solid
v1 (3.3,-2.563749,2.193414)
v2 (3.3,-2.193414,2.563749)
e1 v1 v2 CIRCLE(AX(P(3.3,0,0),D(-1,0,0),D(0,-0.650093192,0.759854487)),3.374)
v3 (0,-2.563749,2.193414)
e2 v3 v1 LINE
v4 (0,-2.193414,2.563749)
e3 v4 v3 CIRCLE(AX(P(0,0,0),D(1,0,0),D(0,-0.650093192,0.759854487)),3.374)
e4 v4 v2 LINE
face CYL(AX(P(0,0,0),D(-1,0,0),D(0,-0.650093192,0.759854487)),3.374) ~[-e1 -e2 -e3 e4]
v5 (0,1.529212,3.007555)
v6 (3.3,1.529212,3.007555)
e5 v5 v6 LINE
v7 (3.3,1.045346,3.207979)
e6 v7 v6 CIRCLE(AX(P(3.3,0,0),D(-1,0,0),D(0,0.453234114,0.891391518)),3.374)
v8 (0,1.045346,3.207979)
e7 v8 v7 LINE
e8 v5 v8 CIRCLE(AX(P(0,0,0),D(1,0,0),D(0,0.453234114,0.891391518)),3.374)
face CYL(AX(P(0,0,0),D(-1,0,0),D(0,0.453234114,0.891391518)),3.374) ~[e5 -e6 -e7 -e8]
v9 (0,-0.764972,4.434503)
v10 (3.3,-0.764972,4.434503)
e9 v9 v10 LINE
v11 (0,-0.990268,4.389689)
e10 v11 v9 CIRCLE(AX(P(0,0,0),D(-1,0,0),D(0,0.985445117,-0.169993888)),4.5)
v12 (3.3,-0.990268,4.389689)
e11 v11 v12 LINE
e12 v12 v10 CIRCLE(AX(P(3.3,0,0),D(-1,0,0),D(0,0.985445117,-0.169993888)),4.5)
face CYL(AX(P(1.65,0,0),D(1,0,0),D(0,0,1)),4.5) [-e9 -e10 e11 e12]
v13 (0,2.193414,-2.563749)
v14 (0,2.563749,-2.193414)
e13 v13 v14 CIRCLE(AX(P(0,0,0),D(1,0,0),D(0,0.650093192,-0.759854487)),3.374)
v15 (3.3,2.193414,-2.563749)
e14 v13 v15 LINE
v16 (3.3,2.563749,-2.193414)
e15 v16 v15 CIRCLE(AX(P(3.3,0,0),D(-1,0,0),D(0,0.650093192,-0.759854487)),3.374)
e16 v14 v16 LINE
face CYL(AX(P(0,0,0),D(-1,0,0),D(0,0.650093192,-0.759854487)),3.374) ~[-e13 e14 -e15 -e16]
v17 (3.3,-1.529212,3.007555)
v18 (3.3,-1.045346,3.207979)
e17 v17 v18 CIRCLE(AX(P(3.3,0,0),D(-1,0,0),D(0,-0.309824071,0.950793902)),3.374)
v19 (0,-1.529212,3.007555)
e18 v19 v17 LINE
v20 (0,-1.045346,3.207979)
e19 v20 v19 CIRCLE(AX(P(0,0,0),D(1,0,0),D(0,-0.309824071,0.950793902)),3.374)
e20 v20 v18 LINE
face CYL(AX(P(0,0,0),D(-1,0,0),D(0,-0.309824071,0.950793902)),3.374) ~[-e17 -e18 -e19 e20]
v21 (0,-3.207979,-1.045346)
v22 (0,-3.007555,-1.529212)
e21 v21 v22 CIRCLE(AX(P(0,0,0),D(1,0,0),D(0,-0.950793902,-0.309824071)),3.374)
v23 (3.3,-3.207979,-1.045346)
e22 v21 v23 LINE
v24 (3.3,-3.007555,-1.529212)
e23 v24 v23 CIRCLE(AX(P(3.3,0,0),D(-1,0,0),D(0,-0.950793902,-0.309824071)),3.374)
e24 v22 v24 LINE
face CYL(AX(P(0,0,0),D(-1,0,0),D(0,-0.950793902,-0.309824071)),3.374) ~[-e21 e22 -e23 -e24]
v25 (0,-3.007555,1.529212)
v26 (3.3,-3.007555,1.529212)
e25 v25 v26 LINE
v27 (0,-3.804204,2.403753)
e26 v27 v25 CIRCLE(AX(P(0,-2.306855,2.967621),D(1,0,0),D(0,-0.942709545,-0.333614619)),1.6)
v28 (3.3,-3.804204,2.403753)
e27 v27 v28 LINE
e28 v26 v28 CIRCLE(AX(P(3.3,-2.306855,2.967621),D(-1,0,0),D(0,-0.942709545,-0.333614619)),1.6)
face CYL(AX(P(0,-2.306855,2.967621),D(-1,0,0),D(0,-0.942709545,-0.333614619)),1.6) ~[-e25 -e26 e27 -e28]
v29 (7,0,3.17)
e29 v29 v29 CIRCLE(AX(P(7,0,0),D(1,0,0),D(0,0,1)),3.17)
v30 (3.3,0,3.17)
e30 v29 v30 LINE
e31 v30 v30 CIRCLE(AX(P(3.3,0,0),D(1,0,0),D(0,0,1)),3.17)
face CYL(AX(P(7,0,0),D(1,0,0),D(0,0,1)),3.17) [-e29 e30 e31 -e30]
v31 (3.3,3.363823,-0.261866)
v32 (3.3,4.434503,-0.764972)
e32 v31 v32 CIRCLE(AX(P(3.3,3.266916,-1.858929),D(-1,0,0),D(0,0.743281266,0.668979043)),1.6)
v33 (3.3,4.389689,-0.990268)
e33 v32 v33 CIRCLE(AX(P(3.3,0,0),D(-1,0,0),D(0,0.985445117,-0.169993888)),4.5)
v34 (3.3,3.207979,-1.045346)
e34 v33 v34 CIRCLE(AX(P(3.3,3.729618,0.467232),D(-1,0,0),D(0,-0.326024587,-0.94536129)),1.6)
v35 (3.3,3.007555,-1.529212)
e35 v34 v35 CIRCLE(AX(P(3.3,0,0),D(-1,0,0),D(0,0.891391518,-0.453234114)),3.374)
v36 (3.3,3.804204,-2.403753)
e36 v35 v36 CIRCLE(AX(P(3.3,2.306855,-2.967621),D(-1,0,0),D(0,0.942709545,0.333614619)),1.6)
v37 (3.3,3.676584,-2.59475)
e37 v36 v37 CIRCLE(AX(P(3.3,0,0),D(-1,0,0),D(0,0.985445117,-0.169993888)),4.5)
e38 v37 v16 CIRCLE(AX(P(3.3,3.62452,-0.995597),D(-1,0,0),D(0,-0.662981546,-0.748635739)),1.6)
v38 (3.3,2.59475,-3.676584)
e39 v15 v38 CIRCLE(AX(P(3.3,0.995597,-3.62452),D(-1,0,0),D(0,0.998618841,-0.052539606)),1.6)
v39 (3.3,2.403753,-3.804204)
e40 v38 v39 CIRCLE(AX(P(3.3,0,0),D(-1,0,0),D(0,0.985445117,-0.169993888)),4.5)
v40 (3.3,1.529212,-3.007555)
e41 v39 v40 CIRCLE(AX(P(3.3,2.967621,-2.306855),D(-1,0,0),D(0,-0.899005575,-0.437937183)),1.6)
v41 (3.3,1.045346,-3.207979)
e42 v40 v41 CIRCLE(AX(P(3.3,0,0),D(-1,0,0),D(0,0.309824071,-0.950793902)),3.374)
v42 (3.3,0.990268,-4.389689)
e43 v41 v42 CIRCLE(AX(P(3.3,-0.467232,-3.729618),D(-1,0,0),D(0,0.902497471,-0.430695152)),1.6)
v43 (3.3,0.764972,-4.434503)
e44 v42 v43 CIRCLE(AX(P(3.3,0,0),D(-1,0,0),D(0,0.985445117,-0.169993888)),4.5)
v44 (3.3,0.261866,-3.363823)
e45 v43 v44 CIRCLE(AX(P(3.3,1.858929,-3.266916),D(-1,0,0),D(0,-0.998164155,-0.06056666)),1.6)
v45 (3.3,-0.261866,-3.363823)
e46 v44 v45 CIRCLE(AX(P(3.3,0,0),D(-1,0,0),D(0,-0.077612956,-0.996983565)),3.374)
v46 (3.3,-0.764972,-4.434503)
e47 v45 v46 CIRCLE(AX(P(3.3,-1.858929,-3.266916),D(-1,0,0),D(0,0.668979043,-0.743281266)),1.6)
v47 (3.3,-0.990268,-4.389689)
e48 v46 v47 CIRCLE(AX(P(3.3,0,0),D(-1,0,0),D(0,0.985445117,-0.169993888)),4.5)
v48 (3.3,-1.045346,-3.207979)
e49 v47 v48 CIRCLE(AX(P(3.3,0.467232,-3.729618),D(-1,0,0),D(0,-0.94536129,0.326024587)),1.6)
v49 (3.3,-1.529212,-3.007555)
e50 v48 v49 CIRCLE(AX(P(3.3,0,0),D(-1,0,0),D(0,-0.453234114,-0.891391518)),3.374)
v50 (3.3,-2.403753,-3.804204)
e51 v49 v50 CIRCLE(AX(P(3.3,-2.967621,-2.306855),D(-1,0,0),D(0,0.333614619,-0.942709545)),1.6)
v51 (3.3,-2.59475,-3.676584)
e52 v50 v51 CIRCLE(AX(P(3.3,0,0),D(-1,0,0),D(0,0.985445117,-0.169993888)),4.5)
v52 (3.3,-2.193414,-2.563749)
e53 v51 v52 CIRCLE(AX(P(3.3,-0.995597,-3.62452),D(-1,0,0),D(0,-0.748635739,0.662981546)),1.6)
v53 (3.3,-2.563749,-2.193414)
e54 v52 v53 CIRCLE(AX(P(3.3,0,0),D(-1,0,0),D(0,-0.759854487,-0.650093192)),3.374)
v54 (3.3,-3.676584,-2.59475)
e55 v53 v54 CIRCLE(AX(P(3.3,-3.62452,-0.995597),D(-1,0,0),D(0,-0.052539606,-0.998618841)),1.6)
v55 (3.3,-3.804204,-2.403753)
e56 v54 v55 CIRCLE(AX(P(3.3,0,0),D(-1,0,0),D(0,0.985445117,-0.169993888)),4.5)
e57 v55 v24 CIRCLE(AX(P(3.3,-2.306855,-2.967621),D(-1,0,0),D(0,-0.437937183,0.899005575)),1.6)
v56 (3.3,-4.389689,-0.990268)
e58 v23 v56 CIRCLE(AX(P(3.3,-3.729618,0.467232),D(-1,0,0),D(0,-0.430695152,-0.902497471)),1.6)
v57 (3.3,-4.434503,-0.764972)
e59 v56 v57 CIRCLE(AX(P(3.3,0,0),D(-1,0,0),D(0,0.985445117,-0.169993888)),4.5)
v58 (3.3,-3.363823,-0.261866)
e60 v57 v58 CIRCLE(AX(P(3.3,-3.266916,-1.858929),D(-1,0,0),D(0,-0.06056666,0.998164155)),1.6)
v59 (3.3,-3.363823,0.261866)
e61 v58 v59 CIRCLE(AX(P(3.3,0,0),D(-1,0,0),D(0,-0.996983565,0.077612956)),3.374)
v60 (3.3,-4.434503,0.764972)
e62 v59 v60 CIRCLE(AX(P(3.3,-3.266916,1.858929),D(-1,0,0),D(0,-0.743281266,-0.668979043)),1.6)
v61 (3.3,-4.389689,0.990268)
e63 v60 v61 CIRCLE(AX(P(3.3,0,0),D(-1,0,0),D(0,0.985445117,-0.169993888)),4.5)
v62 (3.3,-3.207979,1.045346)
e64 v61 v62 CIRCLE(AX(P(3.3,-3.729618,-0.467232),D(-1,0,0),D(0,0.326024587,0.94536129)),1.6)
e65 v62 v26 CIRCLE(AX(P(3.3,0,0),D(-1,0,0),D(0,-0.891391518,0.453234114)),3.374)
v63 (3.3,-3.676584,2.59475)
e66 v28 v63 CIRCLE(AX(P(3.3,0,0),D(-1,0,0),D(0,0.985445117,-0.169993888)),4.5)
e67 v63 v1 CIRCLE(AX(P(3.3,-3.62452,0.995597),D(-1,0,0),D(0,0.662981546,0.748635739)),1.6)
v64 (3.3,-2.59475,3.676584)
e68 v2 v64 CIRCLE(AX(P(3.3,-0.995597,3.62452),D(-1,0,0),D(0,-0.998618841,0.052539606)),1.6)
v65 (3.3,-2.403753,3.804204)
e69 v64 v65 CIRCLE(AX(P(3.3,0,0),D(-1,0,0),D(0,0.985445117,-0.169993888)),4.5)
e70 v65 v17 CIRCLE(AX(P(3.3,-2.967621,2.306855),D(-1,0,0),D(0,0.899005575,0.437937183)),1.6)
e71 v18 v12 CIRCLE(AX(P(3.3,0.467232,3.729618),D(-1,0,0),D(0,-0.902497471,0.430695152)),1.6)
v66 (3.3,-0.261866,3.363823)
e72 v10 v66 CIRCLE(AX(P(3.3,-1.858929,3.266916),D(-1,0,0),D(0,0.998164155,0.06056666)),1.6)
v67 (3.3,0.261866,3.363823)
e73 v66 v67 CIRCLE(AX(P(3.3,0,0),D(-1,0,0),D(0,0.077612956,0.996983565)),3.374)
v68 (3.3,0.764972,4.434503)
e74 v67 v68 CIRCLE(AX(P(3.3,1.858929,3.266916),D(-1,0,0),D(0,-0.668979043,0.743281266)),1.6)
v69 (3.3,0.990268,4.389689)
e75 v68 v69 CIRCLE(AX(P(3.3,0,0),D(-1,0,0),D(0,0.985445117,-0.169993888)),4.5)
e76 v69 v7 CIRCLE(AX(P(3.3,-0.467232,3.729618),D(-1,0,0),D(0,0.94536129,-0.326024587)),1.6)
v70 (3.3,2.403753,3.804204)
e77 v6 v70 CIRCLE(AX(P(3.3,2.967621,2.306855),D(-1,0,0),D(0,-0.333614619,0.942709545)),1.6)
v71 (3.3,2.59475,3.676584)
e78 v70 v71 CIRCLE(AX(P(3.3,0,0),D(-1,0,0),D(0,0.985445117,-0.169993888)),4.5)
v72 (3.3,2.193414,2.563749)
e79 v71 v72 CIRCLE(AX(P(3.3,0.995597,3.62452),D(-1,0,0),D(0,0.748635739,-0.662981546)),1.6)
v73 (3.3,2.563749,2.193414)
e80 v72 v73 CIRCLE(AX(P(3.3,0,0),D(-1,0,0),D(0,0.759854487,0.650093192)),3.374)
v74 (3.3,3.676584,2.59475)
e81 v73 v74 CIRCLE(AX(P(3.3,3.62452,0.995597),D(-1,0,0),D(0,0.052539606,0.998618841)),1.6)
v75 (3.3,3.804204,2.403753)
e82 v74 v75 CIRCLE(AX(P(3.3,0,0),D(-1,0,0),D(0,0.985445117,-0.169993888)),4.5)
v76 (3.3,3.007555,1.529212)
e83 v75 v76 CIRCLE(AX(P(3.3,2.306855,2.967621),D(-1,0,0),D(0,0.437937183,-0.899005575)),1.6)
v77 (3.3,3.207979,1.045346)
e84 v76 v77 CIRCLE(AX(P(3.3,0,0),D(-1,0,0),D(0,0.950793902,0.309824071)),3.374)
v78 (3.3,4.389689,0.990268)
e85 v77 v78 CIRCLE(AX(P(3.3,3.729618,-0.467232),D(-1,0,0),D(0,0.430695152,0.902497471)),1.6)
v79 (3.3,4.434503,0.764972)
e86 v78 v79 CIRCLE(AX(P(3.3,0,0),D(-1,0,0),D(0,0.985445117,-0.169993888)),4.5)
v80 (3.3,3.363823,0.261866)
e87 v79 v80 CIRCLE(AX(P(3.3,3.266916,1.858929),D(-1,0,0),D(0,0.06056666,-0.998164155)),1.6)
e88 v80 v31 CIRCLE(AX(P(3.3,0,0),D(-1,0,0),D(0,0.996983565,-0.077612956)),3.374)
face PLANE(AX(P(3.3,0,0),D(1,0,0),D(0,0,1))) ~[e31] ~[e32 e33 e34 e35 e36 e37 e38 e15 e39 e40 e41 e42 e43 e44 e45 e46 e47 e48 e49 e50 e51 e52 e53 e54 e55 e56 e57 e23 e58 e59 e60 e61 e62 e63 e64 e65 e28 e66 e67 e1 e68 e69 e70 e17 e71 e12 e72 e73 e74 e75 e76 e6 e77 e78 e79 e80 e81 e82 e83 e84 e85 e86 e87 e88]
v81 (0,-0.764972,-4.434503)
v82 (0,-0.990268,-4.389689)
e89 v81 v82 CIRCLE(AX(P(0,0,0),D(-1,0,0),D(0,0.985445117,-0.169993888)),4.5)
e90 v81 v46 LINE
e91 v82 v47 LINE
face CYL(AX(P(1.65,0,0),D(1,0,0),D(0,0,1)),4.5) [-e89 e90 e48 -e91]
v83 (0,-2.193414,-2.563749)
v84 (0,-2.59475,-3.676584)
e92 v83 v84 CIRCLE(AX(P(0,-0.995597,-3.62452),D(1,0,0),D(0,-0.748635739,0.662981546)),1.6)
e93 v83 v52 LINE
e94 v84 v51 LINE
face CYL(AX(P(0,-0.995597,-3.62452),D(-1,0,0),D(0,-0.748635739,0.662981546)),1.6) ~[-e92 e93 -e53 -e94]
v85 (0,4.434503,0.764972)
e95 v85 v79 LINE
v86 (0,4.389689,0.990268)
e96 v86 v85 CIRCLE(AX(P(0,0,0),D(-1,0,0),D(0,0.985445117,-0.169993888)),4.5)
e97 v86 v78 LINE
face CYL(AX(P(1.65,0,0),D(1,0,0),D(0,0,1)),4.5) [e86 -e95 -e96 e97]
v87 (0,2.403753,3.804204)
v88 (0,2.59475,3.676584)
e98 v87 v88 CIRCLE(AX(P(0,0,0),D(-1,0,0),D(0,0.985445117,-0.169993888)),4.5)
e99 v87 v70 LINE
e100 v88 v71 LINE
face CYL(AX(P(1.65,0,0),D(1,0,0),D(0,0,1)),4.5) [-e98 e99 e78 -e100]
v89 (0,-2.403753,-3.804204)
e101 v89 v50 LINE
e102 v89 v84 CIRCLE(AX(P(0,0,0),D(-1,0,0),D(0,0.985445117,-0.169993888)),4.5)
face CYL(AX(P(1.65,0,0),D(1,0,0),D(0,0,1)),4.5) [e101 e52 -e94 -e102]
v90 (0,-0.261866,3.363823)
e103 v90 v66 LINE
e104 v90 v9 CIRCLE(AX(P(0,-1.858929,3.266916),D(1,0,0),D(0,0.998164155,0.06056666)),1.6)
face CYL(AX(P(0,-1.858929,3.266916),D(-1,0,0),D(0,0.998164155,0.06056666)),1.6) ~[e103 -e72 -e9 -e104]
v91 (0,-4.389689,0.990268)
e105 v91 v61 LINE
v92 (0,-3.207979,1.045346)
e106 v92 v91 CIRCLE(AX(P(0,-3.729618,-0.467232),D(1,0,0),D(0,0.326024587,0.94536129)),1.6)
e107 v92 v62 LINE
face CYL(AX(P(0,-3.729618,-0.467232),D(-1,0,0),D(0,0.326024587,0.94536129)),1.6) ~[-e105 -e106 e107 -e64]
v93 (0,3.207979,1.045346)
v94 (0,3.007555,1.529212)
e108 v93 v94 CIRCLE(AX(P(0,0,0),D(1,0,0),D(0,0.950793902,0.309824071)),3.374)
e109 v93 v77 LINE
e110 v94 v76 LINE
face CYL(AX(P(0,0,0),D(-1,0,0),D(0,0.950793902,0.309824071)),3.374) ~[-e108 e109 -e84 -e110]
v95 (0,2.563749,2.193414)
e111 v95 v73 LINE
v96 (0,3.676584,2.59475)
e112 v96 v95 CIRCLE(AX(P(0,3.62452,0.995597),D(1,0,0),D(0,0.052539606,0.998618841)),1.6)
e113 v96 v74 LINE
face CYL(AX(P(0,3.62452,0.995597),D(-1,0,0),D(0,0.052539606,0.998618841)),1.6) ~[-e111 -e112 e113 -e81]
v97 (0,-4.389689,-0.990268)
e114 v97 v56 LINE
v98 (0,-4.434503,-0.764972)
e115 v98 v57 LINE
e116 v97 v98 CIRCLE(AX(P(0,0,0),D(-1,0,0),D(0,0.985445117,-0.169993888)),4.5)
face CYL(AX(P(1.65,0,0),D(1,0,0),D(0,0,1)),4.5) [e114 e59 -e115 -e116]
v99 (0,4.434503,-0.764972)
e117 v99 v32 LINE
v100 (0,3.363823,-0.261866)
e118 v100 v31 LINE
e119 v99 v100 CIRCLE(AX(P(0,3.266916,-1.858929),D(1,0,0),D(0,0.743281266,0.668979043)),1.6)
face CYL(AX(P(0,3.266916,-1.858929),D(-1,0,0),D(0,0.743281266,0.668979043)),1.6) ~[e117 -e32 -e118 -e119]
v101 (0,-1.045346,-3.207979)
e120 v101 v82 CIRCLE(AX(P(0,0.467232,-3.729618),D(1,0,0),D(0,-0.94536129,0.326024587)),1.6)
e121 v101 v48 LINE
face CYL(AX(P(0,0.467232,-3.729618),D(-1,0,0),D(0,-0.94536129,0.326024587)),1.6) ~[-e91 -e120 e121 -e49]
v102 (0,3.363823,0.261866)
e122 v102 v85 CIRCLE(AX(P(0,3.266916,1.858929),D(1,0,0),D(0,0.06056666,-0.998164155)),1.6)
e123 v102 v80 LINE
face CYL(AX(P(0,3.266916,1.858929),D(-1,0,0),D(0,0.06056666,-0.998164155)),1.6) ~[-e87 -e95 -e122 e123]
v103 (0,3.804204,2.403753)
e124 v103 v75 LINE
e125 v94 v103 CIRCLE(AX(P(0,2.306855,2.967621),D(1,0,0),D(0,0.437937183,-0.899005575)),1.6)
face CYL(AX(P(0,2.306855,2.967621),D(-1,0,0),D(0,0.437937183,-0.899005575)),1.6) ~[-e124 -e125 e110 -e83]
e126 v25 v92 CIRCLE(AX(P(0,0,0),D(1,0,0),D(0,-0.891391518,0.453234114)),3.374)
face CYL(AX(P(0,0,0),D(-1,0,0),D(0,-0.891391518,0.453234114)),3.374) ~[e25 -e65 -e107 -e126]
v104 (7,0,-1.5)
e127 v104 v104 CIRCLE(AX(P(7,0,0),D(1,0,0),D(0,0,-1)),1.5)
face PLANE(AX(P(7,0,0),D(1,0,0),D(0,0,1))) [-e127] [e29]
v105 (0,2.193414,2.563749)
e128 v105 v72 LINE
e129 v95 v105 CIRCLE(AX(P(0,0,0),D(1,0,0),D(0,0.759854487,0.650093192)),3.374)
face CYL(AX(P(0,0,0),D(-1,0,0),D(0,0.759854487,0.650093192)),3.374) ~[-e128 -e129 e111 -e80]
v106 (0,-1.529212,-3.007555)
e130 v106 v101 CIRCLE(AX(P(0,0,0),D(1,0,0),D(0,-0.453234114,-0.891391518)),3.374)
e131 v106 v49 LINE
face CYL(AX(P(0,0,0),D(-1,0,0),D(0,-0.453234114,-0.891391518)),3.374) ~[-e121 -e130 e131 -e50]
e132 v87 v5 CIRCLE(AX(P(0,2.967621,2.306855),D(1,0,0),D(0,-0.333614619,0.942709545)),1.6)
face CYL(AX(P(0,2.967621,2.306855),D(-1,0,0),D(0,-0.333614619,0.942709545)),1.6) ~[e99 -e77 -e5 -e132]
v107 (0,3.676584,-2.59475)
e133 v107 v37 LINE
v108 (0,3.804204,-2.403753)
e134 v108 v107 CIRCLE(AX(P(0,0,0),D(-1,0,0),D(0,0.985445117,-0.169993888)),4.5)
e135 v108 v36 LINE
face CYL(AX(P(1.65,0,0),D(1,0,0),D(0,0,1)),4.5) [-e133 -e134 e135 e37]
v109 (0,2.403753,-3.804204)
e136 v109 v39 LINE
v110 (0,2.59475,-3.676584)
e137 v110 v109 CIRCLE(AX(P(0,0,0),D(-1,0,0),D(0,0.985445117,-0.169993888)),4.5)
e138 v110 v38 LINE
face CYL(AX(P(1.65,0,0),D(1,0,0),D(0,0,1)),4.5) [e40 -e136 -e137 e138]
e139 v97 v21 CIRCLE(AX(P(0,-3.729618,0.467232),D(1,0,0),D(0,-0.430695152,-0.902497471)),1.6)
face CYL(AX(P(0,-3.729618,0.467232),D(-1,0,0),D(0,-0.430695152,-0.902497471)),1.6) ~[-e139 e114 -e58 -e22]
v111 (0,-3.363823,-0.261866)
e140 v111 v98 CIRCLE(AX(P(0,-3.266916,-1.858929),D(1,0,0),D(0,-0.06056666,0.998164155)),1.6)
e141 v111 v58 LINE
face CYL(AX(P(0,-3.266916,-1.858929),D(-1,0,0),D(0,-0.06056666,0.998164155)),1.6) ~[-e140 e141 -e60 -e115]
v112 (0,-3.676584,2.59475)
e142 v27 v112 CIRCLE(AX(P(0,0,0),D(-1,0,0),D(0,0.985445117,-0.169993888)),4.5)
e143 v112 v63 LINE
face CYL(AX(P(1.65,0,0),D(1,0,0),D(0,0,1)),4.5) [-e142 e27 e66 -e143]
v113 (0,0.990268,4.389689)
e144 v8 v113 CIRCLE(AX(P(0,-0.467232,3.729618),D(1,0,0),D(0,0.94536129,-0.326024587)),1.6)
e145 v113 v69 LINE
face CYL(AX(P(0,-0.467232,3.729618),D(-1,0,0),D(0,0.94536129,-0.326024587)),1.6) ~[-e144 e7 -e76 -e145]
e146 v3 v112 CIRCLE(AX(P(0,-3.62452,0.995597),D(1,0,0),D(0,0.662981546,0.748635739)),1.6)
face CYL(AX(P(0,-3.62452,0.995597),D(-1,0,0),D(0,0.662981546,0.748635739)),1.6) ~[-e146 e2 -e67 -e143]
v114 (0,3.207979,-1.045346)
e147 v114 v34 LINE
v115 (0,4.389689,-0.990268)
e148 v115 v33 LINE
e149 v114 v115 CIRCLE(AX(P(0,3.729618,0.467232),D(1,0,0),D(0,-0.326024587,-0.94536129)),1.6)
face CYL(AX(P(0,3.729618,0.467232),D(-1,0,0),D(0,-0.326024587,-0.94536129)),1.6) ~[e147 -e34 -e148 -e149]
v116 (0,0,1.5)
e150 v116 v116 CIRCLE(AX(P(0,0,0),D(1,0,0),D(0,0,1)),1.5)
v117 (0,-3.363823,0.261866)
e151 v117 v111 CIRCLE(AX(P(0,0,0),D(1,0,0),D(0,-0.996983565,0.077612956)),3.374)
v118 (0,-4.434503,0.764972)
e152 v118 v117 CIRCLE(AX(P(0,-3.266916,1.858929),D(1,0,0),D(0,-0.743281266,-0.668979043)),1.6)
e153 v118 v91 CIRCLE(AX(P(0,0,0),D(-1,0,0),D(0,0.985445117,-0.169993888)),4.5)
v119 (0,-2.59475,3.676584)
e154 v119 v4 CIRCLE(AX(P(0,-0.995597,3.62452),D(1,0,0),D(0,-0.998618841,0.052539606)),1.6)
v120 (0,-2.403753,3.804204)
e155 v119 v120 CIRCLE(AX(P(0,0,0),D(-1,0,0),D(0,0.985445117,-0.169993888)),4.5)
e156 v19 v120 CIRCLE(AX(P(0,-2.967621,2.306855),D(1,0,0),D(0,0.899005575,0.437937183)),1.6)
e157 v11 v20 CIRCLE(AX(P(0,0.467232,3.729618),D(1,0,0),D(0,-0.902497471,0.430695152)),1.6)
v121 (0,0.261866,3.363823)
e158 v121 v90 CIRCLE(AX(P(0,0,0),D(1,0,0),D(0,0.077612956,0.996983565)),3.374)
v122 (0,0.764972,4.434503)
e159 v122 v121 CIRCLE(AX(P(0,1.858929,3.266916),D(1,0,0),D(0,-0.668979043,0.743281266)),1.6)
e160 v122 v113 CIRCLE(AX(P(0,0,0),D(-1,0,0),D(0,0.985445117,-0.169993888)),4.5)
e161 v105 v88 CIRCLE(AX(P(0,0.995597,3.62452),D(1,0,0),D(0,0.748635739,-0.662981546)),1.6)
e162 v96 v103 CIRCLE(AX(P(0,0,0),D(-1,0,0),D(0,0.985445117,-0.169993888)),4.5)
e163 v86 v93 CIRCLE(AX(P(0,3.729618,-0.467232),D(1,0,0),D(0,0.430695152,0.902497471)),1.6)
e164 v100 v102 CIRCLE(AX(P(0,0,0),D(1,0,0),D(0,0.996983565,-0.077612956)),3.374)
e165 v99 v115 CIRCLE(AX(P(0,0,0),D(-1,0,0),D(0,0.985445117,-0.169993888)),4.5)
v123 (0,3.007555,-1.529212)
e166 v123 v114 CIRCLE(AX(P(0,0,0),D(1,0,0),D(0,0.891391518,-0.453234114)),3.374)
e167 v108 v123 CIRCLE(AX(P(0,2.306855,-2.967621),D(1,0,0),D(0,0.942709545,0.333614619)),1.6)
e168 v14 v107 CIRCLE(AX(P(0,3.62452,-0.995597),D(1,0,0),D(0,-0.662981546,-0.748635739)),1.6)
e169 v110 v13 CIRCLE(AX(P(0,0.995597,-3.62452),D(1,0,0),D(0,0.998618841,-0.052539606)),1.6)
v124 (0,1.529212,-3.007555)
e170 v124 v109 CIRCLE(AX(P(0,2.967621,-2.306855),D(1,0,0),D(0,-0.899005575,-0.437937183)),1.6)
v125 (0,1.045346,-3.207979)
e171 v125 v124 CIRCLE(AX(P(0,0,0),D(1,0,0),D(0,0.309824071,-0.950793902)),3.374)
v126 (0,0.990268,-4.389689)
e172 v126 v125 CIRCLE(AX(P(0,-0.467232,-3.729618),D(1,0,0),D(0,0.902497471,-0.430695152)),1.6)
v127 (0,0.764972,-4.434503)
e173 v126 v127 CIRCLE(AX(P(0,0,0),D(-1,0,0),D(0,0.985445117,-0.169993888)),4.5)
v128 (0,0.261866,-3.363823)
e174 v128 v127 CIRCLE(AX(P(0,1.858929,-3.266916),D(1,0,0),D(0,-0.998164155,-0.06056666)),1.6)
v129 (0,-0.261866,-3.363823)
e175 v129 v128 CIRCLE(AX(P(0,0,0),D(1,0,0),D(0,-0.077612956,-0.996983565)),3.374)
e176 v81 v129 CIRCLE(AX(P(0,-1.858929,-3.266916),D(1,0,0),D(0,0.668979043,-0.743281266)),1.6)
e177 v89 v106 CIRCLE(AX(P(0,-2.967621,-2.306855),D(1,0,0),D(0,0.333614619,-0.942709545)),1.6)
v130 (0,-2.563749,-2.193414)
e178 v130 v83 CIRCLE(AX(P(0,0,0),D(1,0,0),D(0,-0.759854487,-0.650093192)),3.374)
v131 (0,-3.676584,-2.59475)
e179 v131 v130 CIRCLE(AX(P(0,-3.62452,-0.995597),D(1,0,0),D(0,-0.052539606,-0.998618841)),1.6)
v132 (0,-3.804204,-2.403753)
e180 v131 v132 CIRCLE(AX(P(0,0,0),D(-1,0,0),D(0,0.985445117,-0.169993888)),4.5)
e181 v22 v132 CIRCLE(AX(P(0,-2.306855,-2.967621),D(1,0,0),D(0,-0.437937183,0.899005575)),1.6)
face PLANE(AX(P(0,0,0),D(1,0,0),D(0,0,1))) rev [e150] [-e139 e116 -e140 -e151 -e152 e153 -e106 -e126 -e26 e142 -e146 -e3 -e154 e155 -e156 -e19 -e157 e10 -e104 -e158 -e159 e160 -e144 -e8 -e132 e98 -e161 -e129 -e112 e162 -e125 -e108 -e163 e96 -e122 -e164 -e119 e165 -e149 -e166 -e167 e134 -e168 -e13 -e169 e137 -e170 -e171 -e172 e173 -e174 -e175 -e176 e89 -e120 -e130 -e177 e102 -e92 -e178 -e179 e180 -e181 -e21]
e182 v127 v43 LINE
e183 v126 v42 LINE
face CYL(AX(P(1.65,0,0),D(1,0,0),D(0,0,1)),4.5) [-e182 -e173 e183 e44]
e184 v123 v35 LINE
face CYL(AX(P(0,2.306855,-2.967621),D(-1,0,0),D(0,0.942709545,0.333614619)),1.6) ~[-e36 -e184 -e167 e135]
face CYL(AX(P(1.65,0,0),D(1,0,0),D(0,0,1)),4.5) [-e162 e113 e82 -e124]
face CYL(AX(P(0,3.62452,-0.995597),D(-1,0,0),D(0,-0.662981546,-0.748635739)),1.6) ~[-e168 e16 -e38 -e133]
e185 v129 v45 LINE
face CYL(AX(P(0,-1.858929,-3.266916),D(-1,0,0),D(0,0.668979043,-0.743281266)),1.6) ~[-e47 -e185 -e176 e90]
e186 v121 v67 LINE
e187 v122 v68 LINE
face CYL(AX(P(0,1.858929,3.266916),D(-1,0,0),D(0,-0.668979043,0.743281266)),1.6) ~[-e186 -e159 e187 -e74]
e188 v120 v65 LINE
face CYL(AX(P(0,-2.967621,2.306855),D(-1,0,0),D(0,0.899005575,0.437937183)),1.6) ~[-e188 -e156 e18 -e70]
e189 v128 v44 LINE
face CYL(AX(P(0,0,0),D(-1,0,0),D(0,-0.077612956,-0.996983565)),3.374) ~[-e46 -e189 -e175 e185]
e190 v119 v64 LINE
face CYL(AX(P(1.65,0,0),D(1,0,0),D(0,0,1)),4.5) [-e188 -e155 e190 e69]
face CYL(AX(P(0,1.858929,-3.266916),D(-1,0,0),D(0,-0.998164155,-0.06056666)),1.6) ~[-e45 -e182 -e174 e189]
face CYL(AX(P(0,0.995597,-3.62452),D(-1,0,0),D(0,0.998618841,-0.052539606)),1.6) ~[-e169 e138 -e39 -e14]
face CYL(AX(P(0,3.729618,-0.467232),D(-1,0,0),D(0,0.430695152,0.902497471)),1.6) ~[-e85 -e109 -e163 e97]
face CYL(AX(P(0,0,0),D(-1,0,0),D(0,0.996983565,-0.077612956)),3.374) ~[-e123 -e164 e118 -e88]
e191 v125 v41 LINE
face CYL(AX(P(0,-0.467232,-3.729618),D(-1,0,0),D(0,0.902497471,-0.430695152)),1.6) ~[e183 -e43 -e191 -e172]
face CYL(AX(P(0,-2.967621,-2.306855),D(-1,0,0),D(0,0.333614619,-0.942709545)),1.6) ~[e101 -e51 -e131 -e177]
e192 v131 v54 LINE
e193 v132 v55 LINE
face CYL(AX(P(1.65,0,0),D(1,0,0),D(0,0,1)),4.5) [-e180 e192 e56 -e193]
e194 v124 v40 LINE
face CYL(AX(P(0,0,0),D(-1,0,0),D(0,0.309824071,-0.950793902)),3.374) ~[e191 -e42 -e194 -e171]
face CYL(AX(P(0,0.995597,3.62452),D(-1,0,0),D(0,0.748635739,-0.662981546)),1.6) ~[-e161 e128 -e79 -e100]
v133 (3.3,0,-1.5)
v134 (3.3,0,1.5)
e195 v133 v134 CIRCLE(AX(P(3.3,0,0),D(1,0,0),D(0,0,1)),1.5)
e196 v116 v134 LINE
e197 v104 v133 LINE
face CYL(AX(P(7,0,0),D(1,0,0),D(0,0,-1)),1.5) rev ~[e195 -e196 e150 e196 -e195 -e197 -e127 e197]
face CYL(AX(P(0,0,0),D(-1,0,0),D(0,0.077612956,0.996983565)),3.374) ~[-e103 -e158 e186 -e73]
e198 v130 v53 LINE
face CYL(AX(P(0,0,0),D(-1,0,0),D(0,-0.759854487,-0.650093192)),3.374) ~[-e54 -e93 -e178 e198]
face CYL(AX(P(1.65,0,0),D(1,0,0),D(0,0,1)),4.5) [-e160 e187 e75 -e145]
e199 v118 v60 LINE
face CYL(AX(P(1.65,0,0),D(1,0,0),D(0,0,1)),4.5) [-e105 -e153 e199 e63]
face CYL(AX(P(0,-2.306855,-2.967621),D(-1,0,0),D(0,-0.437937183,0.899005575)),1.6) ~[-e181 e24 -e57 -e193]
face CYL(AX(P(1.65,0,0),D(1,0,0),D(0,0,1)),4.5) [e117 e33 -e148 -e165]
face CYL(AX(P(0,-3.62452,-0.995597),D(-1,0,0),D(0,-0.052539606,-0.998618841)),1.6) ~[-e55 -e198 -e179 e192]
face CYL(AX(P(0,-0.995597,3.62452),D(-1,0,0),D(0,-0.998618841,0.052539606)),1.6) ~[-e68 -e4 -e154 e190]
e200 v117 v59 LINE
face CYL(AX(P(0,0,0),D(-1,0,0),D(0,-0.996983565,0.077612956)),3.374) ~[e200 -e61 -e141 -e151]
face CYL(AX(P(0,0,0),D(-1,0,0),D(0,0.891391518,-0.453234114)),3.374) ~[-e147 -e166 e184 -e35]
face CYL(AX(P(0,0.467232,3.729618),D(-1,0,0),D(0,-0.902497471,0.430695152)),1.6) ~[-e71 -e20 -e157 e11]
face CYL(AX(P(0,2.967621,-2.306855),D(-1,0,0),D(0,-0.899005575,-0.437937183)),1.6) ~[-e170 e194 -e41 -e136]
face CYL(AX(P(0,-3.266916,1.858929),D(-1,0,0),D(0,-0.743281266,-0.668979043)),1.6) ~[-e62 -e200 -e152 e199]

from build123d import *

# Parameters (mm, degrees)
BASPROSKE_W        = 3.3
BASPROSKE_H        = 4.5
TOOTHCUT_DEPTH     = 8.168681887
TEETHCUTS_COUNT    = 16
TEETHCUTS_ANGLE    = 337.5
BORSKE_R           = 1.5
BORE_DEPTH         = 50.0000508
BOSS_EXTRU_1_START = 3.7
ESQUISSE1_R        = 3.17
ESQUISSE1_R_2      = 1.5
BOSS_EXTRU_1_DEPTH = 3.7


with BuildPart() as part:
    # BasProSke → Base-Revolve (revolve)
    with BuildSketch(Plane(origin=(0, 0, 0), x_dir=(1, 0, 0), z_dir=(0, 1, 0)), mode=Mode.PRIVATE) as base_revolve_sk:
        with Locations((1.65, 2.25)):
            Rectangle(BASPROSKE_W, BASPROSKE_H)
    revolve(base_revolve_sk.sketch.rotate(Axis((-10, 0, 0), (1, 0, 0)), 180), axis=Axis((-10, 0, 0), (1, 0, 0)))

    # TooCutSke → ToothCut (cut, through all)
    with BuildSketch(Plane(origin=(0, 0, 0), x_dir=(0, 0, -1), z_dir=(1, 0, 0))):
        with BuildLine():
            ThreePointArc((0.261866103, 3.363822549), (0, 3.374), (-0.261866103, 3.363822549))
            ThreePointArc((-0.261866103, 3.363822549), (-0.417714668, 3.961827375), (-0.788562282, 4.456165918))
            ThreePointArc((-0.788562282, 4.456165918), (0, 4.5254), (0.788562282, 4.456165918))
            ThreePointArc((0.788562282, 4.456165918), (0.417714668, 3.961827375), (0.261866103, 3.363822549))
        make_face()
    toothcut = extrude(amount=TOOTHCUT_DEPTH, mode=Mode.SUBTRACT)

    # TeethCuts: ToothCut ×16 about axis
    teethcuts_axis = Axis((-10, 0, 0), (1, 0, 0))
    for i in range(1, TEETHCUTS_COUNT):
        add(toothcut.rotate(teethcuts_axis, i * TEETHCUTS_ANGLE / (TEETHCUTS_COUNT - 1)), mode=Mode.SUBTRACT)

    # BorSke → Bore (cut, symmetric)
    with BuildSketch(Plane(origin=(0, 0, 0), x_dir=(0, 0, -1), z_dir=(1, 0, 0))):
        with Locations(Location((0, 0, 0), (0, 0, 180))):
            Circle(BORSKE_R)
    extrude(amount=BORE_DEPTH, both=True, mode=Mode.SUBTRACT)

    # Esquisse1 → Boss.-Extru.1 (add)
    with BuildSketch(Plane(origin=(3.3, 0, 0), x_dir=(0, 0, -1), z_dir=(1, 0, 0)).offset(BOSS_EXTRU_1_START)):
        with Locations(Location((0, 0, 0), (0, 0, 180))):
            Circle(ESQUISSE1_R)
        Circle(ESQUISSE1_R_2, mode=Mode.SUBTRACT)
    extrude(amount=-BOSS_EXTRU_1_DEPTH)


solid = part.part
